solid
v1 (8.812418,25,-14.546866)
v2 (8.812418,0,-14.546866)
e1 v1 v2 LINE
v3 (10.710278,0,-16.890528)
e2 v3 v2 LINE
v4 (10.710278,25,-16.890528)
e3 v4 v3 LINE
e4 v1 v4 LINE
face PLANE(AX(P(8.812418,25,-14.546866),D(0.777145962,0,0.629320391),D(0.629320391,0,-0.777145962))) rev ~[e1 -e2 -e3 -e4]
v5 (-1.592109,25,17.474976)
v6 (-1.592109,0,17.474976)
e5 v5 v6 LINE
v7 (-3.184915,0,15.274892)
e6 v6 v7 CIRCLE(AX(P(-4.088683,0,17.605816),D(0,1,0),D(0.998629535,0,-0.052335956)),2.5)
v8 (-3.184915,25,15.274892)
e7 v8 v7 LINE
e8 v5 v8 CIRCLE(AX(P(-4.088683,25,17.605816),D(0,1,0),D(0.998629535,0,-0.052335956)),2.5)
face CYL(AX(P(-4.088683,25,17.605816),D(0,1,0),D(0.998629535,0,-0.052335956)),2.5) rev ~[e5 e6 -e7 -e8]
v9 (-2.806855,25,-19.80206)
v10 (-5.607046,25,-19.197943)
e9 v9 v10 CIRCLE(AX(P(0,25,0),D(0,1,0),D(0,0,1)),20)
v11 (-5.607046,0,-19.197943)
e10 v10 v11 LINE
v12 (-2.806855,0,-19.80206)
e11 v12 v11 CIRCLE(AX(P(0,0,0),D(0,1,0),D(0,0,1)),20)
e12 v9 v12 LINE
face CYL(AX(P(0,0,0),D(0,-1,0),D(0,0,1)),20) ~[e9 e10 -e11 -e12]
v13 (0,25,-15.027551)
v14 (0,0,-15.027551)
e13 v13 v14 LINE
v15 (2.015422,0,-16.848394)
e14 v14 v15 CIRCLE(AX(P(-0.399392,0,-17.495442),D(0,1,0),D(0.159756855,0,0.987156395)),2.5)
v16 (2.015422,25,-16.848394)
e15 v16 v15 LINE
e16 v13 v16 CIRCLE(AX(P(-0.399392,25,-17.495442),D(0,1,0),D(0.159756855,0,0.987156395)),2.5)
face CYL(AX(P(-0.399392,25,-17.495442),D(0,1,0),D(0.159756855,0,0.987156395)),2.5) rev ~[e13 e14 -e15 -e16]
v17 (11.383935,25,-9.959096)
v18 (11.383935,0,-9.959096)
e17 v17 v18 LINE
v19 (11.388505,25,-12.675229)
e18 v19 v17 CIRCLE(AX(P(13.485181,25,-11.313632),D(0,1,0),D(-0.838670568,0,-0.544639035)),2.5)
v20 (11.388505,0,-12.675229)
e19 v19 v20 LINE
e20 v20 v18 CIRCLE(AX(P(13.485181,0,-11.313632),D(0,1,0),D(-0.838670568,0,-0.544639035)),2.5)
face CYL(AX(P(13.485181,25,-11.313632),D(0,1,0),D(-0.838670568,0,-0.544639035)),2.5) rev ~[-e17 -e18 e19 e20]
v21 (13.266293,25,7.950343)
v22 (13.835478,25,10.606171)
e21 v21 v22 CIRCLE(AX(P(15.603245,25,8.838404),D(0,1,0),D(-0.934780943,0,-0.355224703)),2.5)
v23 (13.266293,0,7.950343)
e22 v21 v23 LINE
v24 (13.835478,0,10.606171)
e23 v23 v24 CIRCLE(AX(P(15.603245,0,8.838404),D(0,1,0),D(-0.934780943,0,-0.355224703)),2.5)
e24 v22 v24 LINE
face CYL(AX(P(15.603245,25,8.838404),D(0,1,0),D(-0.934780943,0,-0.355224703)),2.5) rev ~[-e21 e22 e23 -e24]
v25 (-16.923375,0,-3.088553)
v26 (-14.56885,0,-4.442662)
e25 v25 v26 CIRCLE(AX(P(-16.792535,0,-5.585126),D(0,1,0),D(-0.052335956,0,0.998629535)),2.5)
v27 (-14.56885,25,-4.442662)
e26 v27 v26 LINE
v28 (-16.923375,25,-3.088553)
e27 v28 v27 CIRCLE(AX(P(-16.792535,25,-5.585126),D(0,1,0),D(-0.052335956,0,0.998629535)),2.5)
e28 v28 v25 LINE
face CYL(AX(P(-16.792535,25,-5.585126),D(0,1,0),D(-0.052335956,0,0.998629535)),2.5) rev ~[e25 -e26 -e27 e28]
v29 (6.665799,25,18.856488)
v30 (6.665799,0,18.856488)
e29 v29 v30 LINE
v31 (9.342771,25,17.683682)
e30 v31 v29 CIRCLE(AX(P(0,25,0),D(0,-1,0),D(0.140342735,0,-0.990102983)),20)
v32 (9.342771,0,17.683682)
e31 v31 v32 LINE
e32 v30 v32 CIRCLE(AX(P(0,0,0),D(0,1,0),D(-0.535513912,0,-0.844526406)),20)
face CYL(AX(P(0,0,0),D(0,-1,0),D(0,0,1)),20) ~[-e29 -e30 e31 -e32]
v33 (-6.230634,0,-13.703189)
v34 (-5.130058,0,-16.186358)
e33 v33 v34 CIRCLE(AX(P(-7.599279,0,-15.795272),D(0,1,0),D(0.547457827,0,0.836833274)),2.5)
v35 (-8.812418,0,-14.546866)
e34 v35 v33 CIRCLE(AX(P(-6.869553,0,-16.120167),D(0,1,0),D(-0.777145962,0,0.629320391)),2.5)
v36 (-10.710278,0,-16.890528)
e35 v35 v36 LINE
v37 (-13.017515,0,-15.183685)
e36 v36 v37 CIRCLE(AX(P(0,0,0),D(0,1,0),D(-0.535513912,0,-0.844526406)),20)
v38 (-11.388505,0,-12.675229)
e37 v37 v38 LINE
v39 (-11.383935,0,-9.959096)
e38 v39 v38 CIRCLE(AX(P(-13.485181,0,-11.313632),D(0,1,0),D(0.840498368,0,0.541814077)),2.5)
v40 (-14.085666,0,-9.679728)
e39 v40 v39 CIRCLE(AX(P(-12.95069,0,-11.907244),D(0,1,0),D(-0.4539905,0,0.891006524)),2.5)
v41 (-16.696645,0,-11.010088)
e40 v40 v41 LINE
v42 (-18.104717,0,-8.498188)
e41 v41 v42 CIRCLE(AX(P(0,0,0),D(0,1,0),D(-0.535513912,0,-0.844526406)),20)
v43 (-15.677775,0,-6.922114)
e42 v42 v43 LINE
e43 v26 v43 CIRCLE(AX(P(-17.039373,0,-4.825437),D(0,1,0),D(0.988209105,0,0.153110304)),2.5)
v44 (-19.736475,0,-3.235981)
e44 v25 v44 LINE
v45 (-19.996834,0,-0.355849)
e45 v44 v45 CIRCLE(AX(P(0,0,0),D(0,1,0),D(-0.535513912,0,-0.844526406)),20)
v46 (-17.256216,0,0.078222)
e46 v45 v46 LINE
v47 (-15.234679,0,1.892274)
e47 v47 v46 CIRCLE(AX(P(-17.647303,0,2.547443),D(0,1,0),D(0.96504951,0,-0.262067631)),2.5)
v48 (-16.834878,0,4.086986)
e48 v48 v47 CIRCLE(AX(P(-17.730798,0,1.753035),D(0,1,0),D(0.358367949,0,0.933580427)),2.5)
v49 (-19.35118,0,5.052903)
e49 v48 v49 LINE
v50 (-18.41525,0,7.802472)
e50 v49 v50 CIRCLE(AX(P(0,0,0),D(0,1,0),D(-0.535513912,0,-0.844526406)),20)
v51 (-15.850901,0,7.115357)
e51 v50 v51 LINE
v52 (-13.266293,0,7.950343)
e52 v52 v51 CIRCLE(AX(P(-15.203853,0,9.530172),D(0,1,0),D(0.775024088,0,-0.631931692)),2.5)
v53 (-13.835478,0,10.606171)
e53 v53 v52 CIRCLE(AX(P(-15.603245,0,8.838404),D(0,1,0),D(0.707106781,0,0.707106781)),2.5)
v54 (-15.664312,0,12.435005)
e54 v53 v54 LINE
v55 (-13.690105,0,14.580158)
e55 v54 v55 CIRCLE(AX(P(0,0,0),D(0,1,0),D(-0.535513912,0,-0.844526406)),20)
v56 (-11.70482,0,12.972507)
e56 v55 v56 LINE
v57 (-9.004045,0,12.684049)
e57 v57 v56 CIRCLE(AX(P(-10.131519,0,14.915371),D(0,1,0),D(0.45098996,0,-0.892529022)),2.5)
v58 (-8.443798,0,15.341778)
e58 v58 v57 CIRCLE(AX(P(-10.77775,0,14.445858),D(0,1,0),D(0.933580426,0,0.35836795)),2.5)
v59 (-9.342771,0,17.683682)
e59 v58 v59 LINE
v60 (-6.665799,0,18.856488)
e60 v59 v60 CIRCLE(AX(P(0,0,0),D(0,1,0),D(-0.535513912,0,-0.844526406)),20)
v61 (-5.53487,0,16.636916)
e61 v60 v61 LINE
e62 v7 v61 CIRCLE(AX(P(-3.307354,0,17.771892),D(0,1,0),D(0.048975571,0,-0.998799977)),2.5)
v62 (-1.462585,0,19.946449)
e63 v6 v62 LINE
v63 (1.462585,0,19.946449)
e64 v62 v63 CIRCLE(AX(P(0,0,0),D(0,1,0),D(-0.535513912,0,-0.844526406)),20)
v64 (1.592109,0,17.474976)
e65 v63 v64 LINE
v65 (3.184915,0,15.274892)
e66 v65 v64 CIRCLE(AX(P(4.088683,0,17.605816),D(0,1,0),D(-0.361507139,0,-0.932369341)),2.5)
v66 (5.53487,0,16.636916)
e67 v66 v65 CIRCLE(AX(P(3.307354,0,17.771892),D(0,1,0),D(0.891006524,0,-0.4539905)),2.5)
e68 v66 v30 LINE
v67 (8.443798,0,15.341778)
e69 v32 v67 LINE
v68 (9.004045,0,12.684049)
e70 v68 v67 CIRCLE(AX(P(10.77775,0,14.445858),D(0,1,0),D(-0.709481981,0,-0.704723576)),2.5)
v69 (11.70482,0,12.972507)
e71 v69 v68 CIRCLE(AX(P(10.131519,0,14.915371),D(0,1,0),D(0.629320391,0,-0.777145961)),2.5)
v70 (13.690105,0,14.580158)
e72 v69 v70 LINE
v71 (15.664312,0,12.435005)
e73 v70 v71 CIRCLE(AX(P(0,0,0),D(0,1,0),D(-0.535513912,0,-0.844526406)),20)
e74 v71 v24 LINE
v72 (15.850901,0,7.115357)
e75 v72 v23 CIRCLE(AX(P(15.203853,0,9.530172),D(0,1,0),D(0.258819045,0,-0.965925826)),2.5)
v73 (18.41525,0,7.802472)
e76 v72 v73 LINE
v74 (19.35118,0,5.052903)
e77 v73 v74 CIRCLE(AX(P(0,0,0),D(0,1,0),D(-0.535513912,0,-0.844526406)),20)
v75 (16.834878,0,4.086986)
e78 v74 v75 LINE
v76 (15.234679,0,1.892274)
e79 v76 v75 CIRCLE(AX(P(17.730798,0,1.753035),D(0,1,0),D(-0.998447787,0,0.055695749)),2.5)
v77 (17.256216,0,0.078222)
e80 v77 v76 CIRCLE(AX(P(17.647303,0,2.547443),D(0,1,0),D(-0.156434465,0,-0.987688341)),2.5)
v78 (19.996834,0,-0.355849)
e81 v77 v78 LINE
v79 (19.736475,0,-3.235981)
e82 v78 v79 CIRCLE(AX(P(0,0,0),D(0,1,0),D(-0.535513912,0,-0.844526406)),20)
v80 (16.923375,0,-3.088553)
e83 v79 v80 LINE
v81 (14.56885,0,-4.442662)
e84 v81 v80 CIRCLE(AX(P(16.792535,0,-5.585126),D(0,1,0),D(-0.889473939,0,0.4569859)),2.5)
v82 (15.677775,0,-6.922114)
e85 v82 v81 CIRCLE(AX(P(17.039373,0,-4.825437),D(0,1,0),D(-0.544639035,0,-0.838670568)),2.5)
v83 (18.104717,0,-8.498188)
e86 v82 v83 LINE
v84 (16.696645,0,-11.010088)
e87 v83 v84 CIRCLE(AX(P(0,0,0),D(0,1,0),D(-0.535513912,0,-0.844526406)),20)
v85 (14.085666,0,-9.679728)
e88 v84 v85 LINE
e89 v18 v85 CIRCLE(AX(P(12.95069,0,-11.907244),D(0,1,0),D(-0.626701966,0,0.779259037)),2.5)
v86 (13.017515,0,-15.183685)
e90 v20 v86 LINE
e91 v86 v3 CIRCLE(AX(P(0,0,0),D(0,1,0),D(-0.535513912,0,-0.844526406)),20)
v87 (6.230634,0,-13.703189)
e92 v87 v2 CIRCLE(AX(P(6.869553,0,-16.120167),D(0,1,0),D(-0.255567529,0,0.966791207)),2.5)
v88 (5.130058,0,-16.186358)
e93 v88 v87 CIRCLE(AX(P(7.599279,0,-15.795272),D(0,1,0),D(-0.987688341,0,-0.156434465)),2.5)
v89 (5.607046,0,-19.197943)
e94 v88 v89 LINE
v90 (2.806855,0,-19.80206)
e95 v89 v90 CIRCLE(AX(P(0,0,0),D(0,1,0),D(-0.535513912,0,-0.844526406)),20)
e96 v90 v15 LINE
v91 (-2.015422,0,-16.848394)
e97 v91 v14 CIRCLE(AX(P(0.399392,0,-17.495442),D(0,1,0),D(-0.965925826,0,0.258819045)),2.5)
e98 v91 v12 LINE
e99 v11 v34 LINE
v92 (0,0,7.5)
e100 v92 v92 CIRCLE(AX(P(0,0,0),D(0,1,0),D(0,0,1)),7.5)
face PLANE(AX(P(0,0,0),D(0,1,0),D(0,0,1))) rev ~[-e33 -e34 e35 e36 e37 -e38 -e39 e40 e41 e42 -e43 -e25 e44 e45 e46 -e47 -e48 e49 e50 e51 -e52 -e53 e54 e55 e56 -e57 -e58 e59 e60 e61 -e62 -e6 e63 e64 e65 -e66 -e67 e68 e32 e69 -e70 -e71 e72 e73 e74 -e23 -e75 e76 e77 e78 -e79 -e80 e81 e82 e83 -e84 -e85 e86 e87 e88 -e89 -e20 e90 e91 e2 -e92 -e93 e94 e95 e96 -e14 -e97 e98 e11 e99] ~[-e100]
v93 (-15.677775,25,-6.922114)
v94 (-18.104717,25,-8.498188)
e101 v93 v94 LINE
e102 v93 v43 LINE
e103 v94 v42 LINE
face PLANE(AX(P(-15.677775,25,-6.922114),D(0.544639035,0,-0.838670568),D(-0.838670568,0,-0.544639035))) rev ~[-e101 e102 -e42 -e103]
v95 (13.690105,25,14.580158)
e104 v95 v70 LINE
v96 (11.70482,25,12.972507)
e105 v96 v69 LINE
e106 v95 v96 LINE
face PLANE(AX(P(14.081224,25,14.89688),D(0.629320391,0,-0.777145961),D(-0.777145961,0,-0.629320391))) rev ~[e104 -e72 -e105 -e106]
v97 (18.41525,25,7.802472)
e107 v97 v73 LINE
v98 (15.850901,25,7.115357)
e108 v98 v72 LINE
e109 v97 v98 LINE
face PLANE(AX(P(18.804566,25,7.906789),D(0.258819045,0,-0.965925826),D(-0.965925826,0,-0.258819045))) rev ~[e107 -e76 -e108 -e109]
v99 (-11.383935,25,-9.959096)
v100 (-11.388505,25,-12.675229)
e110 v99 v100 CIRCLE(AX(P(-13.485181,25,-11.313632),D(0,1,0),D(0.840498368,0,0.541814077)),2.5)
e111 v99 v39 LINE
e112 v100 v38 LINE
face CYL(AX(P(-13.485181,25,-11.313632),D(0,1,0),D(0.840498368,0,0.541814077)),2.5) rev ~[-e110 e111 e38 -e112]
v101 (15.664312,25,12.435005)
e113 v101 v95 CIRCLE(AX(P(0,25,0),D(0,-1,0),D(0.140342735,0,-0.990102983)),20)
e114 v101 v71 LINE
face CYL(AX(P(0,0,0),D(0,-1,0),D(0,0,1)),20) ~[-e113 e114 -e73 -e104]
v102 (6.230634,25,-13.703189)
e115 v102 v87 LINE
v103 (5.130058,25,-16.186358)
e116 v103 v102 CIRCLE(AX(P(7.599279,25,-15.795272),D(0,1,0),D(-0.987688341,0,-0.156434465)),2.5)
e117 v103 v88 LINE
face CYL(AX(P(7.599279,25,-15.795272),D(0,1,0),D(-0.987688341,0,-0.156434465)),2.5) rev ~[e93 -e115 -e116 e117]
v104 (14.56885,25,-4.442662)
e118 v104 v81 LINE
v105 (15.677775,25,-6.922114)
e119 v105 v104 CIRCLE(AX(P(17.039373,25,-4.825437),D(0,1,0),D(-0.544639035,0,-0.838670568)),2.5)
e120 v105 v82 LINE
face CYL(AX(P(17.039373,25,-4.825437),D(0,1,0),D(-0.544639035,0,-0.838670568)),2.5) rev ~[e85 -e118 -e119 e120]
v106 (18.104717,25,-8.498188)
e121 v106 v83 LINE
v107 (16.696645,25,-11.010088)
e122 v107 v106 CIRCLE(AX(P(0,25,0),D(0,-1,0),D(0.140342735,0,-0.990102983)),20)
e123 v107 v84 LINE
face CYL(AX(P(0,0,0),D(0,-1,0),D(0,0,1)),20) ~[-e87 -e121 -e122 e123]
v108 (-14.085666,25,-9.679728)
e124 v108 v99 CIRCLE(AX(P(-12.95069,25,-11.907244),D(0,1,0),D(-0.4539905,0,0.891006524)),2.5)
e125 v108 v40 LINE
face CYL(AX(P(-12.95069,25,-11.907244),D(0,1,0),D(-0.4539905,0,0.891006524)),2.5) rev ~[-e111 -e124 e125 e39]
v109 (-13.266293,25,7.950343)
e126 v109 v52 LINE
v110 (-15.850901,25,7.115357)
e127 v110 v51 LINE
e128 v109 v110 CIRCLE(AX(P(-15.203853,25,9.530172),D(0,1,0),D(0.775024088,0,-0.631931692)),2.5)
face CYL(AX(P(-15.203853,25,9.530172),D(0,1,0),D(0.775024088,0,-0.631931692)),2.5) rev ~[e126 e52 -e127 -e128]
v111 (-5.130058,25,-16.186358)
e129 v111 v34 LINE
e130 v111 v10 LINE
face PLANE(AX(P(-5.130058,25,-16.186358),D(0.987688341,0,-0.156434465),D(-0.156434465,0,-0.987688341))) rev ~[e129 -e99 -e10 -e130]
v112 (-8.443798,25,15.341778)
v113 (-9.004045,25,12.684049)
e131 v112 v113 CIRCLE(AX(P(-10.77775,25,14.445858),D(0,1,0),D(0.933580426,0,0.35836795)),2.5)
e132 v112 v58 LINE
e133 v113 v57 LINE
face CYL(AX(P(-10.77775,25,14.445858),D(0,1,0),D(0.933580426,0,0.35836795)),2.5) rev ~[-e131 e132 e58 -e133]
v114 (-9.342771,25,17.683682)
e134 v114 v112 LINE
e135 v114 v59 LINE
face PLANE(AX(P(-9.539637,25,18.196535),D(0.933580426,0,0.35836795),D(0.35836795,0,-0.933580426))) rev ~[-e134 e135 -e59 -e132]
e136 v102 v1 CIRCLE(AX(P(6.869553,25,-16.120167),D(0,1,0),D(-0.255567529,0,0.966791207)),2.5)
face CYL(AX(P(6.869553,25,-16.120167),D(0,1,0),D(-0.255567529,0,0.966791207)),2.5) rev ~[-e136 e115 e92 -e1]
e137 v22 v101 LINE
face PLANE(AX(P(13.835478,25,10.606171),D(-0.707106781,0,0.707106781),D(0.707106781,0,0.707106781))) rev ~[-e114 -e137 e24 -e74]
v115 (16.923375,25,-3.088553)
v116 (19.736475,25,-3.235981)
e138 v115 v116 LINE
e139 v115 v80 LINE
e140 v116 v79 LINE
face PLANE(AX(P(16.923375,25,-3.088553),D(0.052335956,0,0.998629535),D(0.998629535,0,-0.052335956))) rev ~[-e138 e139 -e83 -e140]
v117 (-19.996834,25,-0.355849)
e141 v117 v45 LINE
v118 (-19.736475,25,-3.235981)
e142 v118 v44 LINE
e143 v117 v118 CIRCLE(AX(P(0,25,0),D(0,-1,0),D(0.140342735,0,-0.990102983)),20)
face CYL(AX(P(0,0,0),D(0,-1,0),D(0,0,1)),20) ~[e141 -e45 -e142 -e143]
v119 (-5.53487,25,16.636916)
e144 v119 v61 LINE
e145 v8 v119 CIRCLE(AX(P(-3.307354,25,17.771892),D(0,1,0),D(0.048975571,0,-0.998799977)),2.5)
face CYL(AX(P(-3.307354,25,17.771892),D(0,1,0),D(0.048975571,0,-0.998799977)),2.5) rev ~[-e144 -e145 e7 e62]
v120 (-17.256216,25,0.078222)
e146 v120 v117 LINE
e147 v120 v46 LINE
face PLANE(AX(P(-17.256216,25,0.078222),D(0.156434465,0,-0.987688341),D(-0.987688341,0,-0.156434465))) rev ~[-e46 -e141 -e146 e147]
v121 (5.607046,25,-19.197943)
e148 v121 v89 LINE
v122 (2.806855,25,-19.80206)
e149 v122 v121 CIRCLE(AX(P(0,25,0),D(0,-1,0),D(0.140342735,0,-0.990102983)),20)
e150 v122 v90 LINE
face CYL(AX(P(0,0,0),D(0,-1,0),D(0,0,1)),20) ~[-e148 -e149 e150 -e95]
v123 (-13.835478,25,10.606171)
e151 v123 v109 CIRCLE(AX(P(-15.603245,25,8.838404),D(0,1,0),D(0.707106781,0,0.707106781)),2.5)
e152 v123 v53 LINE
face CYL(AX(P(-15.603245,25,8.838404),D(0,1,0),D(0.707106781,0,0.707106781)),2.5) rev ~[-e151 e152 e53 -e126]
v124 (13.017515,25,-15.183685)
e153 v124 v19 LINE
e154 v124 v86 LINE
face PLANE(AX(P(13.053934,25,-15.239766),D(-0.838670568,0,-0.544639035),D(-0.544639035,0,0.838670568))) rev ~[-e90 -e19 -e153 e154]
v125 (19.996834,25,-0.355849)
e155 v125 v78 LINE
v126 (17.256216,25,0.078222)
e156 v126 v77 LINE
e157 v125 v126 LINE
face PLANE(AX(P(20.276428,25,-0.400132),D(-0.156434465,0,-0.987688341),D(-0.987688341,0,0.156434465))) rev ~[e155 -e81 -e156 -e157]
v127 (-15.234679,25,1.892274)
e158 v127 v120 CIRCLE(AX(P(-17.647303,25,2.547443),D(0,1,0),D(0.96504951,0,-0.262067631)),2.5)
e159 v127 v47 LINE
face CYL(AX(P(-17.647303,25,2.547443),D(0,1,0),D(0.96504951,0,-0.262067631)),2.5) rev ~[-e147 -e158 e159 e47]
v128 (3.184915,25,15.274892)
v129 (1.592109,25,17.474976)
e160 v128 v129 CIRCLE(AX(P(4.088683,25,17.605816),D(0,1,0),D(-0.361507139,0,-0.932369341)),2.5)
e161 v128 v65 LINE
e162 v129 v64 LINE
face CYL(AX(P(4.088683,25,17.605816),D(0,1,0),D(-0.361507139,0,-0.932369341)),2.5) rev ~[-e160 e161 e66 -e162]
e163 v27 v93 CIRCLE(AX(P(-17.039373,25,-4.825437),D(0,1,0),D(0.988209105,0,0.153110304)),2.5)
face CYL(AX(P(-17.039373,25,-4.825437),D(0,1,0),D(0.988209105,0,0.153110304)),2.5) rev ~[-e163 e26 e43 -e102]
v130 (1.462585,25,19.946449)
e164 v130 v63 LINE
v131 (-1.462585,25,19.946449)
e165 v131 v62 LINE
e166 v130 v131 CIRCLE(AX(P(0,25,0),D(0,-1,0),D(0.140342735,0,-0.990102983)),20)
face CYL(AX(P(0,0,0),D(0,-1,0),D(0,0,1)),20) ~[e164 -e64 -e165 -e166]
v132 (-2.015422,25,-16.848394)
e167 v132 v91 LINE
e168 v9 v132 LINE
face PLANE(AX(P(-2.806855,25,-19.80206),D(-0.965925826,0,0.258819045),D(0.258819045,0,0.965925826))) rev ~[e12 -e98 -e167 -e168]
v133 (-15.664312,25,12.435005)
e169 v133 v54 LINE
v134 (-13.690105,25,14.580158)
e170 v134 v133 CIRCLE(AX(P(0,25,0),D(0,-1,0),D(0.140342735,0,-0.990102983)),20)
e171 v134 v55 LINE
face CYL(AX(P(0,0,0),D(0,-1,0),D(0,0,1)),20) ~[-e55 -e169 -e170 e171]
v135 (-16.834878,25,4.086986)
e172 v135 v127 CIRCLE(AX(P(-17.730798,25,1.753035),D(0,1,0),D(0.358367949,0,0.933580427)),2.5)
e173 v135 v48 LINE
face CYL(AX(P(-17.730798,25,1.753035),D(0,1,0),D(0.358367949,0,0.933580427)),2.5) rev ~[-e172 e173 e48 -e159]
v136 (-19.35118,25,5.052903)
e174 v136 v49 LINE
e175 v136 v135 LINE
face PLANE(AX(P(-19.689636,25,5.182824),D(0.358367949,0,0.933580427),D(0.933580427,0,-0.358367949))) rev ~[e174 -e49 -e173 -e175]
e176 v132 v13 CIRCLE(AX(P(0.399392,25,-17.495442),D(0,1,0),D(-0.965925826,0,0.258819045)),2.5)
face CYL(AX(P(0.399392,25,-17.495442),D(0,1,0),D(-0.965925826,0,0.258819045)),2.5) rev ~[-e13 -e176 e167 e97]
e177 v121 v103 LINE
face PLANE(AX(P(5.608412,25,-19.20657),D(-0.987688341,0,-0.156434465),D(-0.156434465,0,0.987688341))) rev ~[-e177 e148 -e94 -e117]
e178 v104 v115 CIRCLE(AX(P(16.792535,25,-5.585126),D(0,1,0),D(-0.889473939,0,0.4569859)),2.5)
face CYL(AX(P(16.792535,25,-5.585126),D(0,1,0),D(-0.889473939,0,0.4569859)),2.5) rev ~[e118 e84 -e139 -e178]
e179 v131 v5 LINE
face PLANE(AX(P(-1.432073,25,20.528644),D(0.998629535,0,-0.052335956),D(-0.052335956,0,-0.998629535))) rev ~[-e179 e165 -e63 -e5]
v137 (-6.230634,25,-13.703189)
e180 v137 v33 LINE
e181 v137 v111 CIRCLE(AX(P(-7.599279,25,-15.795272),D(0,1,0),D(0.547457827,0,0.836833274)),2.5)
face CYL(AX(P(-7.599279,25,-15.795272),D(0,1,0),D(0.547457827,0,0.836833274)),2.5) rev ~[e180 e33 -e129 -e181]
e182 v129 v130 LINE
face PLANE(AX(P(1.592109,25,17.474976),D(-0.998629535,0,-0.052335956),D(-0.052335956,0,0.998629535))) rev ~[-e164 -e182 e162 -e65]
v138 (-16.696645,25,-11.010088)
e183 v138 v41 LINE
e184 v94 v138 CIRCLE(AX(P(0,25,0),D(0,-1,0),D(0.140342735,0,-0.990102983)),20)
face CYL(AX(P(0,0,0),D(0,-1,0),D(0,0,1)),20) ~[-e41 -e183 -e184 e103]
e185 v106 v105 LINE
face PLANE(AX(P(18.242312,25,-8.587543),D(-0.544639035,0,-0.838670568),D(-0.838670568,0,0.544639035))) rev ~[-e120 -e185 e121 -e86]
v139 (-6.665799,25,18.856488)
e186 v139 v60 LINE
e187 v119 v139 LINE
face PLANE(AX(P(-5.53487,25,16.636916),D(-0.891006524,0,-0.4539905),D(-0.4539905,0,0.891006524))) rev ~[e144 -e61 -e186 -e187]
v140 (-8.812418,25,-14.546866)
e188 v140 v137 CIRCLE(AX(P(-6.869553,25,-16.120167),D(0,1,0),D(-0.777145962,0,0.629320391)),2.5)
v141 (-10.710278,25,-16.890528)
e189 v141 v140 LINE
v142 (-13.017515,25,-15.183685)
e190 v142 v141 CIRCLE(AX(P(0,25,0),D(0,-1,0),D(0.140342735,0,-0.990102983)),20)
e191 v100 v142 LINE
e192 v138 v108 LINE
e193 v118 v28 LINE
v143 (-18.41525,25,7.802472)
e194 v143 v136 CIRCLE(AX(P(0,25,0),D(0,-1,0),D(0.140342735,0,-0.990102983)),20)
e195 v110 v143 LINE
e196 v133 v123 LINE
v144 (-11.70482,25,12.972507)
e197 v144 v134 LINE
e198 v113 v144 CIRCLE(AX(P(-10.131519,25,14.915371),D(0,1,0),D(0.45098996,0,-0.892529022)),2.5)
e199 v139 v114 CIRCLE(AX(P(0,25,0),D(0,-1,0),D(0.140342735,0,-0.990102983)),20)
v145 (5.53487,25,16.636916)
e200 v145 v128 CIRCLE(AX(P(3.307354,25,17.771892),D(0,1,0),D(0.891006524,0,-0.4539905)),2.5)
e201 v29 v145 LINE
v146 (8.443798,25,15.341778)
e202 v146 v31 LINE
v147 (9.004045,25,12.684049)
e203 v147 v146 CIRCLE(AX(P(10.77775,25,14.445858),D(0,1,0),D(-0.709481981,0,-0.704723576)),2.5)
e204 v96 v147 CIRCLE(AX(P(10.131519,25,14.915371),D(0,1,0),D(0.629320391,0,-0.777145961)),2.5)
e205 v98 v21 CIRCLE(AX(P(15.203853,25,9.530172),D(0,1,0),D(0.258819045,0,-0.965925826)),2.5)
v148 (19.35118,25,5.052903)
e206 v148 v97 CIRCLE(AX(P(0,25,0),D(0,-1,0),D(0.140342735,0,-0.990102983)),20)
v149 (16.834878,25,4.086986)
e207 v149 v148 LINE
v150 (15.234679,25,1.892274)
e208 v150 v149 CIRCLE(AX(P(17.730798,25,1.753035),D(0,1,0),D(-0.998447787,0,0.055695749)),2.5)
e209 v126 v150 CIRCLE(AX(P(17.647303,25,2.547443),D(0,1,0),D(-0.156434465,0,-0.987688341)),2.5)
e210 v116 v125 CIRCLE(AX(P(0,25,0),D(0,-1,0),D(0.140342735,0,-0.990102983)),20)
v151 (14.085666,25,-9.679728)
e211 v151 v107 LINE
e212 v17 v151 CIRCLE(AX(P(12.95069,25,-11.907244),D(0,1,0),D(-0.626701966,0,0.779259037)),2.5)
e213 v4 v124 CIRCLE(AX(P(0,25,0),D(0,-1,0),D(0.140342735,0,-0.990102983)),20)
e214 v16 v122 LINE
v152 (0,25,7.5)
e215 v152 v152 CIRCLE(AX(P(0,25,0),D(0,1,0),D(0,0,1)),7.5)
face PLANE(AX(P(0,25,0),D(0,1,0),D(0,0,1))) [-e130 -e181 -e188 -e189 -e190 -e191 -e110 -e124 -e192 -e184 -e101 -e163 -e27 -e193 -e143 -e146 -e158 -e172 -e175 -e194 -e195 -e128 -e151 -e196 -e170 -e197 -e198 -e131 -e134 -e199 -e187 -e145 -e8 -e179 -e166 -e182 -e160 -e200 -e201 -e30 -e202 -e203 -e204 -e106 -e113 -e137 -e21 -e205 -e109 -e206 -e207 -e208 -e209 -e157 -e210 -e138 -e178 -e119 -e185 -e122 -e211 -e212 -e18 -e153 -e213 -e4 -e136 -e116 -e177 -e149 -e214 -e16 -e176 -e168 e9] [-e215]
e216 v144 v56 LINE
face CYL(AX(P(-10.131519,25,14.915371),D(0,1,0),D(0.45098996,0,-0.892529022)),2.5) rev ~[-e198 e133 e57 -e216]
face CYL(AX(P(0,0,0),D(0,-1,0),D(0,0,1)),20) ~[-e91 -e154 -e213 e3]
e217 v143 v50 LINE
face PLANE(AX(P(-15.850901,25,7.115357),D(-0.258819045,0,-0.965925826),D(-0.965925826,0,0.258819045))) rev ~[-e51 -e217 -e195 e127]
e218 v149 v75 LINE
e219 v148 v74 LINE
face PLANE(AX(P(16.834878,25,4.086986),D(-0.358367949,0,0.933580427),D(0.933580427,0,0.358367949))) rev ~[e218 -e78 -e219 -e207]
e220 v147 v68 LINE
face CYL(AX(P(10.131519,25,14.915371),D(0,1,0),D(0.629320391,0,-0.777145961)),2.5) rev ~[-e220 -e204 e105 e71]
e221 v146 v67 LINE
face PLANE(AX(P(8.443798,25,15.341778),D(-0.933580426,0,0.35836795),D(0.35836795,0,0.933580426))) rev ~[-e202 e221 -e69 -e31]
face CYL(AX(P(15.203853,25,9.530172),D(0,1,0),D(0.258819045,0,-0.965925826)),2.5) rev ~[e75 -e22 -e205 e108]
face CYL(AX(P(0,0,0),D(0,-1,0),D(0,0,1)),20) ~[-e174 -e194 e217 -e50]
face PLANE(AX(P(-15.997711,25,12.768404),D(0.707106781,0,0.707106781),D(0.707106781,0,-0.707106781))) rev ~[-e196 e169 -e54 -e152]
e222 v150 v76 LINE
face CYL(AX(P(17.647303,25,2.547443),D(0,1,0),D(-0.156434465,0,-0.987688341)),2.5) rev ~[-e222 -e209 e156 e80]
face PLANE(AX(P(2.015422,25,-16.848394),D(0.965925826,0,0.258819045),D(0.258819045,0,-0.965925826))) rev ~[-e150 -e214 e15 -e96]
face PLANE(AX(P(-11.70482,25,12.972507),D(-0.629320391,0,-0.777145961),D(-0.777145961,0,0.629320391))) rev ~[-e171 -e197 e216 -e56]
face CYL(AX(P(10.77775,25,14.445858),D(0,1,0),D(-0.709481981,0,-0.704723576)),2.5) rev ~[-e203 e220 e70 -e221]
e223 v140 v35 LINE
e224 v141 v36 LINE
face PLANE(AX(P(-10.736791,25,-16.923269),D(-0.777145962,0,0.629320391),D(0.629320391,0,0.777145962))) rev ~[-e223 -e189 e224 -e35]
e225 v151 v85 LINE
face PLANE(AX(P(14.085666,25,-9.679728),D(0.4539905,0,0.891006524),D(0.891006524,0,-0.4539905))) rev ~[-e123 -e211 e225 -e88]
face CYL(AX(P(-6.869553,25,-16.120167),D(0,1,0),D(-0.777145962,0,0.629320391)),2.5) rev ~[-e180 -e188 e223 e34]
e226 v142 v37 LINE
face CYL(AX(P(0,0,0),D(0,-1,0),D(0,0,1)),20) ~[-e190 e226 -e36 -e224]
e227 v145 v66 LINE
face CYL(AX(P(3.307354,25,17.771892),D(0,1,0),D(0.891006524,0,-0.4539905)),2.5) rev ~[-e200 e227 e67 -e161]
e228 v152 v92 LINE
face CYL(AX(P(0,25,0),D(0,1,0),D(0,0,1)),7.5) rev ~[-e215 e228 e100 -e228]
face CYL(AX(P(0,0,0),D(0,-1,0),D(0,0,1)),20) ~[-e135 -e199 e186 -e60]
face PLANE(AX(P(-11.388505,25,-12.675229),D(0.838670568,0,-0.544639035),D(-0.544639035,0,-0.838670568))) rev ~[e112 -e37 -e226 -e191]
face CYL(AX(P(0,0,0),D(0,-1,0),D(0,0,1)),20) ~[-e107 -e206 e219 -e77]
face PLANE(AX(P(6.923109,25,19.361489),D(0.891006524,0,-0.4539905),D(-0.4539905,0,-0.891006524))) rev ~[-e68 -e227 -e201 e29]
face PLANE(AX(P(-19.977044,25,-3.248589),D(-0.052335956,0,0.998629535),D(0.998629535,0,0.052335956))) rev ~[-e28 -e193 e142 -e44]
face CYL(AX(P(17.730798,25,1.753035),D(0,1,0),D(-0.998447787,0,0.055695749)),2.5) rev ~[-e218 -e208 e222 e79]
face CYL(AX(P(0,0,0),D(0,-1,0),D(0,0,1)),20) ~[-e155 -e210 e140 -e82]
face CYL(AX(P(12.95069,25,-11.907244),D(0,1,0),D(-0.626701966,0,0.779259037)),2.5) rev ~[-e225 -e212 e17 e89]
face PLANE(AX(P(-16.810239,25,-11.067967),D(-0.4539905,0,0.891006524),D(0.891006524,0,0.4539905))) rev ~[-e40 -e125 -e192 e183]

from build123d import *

# Parameters (mm, degrees)
ESQUISSE1_R                  = 20
BOSS_EXTRU_1_DEPTH           = 25
ENL_V_MAT_EXTRU_1_REACH      = 39.749
R_P_TITION_CIRCULAIRE1_COUNT = 15
ENL_V_MAT_EXTRU_2_REACH      = 39.747
ESQUISSE5_R                  = 7.5


with BuildPart() as part:
    # Esquisse1 → Boss.-Extru.1 (new body)
    with BuildSketch(Plane(origin=(0, 0, 0), x_dir=(1, 0, 0), z_dir=(0, 1, 0))):
        with Locations(Location((0, 0, 0), (0, 0, 270))):
            Circle(ESQUISSE1_R)
    extrude(amount=BOSS_EXTRU_1_DEPTH)

    # Esquisse3 → Enlèv. mat.-Extru.1 (cut, up to next)
    with BuildSketch(Plane(origin=(0, 25, 0), x_dir=(1, 0, 0), z_dir=(0, 1, 0)), mode=Mode.PRIVATE) as enl_v_mat_extru_1_sk1:
        with BuildLine():
            ThreePointArc((2.80685469, 19.802059659), (0, 20), (-2.80685469, 19.802059659))
            Line((-2.80685469, 19.802059659), (-2.015422429, 16.848394249))
            ThreePointArc((-2.015422429, 16.848394249), (-1.276557591, 15.640396711), (0, 15.027550875))
            ThreePointArc((0, 15.027550875), (1.276557591, 15.640396711), (2.015422429, 16.848394249))
            Line((2.015422429, 16.848394249), (2.80685469, 19.802059659))
        make_face()
    enl_v_mat_extru_1_tool1 = extrude(enl_v_mat_extru_1_sk1.sketch, amount=-ENL_V_MAT_EXTRU_1_REACH, mode=Mode.PRIVATE) & part.part
    enl_v_mat_extru_1 = enl_v_mat_extru_1_tool1.solids().sort_by_distance((0, 25, -17.875874))[0]
    add(enl_v_mat_extru_1, mode=Mode.SUBTRACT)

    # Répétition circulaire1: Enlèv. mat.-Extru.1 ×15 about axis
    r_p_tition_circulaire1_axis = Axis((0, 0, 0.291044728), (0, 1, 0))
    for i in range(1, R_P_TITION_CIRCULAIRE1_COUNT):
        add(enl_v_mat_extru_1.rotate(r_p_tition_circulaire1_axis, i * 360 / R_P_TITION_CIRCULAIRE1_COUNT), mode=Mode.SUBTRACT)

    # Esquisse5 → Enlèv. mat.-Extru.2 (cut, up to next)
    with BuildSketch(Plane(origin=(0, 25, 0), x_dir=(1, 0, 0), z_dir=(0, 1, 0)), mode=Mode.PRIVATE) as enl_v_mat_extru_2_sk1:
        with Locations(Location((0, 0, 0), (0, 0, 270))):
            Circle(ESQUISSE5_R)
    enl_v_mat_extru_2_tool1 = extrude(enl_v_mat_extru_2_sk1.sketch, amount=-ENL_V_MAT_EXTRU_2_REACH, mode=Mode.PRIVATE) & part.part
    add(enl_v_mat_extru_2_tool1.solids().sort_by_distance((0, 25, 0))[0], mode=Mode.SUBTRACT)


solid = part.part
